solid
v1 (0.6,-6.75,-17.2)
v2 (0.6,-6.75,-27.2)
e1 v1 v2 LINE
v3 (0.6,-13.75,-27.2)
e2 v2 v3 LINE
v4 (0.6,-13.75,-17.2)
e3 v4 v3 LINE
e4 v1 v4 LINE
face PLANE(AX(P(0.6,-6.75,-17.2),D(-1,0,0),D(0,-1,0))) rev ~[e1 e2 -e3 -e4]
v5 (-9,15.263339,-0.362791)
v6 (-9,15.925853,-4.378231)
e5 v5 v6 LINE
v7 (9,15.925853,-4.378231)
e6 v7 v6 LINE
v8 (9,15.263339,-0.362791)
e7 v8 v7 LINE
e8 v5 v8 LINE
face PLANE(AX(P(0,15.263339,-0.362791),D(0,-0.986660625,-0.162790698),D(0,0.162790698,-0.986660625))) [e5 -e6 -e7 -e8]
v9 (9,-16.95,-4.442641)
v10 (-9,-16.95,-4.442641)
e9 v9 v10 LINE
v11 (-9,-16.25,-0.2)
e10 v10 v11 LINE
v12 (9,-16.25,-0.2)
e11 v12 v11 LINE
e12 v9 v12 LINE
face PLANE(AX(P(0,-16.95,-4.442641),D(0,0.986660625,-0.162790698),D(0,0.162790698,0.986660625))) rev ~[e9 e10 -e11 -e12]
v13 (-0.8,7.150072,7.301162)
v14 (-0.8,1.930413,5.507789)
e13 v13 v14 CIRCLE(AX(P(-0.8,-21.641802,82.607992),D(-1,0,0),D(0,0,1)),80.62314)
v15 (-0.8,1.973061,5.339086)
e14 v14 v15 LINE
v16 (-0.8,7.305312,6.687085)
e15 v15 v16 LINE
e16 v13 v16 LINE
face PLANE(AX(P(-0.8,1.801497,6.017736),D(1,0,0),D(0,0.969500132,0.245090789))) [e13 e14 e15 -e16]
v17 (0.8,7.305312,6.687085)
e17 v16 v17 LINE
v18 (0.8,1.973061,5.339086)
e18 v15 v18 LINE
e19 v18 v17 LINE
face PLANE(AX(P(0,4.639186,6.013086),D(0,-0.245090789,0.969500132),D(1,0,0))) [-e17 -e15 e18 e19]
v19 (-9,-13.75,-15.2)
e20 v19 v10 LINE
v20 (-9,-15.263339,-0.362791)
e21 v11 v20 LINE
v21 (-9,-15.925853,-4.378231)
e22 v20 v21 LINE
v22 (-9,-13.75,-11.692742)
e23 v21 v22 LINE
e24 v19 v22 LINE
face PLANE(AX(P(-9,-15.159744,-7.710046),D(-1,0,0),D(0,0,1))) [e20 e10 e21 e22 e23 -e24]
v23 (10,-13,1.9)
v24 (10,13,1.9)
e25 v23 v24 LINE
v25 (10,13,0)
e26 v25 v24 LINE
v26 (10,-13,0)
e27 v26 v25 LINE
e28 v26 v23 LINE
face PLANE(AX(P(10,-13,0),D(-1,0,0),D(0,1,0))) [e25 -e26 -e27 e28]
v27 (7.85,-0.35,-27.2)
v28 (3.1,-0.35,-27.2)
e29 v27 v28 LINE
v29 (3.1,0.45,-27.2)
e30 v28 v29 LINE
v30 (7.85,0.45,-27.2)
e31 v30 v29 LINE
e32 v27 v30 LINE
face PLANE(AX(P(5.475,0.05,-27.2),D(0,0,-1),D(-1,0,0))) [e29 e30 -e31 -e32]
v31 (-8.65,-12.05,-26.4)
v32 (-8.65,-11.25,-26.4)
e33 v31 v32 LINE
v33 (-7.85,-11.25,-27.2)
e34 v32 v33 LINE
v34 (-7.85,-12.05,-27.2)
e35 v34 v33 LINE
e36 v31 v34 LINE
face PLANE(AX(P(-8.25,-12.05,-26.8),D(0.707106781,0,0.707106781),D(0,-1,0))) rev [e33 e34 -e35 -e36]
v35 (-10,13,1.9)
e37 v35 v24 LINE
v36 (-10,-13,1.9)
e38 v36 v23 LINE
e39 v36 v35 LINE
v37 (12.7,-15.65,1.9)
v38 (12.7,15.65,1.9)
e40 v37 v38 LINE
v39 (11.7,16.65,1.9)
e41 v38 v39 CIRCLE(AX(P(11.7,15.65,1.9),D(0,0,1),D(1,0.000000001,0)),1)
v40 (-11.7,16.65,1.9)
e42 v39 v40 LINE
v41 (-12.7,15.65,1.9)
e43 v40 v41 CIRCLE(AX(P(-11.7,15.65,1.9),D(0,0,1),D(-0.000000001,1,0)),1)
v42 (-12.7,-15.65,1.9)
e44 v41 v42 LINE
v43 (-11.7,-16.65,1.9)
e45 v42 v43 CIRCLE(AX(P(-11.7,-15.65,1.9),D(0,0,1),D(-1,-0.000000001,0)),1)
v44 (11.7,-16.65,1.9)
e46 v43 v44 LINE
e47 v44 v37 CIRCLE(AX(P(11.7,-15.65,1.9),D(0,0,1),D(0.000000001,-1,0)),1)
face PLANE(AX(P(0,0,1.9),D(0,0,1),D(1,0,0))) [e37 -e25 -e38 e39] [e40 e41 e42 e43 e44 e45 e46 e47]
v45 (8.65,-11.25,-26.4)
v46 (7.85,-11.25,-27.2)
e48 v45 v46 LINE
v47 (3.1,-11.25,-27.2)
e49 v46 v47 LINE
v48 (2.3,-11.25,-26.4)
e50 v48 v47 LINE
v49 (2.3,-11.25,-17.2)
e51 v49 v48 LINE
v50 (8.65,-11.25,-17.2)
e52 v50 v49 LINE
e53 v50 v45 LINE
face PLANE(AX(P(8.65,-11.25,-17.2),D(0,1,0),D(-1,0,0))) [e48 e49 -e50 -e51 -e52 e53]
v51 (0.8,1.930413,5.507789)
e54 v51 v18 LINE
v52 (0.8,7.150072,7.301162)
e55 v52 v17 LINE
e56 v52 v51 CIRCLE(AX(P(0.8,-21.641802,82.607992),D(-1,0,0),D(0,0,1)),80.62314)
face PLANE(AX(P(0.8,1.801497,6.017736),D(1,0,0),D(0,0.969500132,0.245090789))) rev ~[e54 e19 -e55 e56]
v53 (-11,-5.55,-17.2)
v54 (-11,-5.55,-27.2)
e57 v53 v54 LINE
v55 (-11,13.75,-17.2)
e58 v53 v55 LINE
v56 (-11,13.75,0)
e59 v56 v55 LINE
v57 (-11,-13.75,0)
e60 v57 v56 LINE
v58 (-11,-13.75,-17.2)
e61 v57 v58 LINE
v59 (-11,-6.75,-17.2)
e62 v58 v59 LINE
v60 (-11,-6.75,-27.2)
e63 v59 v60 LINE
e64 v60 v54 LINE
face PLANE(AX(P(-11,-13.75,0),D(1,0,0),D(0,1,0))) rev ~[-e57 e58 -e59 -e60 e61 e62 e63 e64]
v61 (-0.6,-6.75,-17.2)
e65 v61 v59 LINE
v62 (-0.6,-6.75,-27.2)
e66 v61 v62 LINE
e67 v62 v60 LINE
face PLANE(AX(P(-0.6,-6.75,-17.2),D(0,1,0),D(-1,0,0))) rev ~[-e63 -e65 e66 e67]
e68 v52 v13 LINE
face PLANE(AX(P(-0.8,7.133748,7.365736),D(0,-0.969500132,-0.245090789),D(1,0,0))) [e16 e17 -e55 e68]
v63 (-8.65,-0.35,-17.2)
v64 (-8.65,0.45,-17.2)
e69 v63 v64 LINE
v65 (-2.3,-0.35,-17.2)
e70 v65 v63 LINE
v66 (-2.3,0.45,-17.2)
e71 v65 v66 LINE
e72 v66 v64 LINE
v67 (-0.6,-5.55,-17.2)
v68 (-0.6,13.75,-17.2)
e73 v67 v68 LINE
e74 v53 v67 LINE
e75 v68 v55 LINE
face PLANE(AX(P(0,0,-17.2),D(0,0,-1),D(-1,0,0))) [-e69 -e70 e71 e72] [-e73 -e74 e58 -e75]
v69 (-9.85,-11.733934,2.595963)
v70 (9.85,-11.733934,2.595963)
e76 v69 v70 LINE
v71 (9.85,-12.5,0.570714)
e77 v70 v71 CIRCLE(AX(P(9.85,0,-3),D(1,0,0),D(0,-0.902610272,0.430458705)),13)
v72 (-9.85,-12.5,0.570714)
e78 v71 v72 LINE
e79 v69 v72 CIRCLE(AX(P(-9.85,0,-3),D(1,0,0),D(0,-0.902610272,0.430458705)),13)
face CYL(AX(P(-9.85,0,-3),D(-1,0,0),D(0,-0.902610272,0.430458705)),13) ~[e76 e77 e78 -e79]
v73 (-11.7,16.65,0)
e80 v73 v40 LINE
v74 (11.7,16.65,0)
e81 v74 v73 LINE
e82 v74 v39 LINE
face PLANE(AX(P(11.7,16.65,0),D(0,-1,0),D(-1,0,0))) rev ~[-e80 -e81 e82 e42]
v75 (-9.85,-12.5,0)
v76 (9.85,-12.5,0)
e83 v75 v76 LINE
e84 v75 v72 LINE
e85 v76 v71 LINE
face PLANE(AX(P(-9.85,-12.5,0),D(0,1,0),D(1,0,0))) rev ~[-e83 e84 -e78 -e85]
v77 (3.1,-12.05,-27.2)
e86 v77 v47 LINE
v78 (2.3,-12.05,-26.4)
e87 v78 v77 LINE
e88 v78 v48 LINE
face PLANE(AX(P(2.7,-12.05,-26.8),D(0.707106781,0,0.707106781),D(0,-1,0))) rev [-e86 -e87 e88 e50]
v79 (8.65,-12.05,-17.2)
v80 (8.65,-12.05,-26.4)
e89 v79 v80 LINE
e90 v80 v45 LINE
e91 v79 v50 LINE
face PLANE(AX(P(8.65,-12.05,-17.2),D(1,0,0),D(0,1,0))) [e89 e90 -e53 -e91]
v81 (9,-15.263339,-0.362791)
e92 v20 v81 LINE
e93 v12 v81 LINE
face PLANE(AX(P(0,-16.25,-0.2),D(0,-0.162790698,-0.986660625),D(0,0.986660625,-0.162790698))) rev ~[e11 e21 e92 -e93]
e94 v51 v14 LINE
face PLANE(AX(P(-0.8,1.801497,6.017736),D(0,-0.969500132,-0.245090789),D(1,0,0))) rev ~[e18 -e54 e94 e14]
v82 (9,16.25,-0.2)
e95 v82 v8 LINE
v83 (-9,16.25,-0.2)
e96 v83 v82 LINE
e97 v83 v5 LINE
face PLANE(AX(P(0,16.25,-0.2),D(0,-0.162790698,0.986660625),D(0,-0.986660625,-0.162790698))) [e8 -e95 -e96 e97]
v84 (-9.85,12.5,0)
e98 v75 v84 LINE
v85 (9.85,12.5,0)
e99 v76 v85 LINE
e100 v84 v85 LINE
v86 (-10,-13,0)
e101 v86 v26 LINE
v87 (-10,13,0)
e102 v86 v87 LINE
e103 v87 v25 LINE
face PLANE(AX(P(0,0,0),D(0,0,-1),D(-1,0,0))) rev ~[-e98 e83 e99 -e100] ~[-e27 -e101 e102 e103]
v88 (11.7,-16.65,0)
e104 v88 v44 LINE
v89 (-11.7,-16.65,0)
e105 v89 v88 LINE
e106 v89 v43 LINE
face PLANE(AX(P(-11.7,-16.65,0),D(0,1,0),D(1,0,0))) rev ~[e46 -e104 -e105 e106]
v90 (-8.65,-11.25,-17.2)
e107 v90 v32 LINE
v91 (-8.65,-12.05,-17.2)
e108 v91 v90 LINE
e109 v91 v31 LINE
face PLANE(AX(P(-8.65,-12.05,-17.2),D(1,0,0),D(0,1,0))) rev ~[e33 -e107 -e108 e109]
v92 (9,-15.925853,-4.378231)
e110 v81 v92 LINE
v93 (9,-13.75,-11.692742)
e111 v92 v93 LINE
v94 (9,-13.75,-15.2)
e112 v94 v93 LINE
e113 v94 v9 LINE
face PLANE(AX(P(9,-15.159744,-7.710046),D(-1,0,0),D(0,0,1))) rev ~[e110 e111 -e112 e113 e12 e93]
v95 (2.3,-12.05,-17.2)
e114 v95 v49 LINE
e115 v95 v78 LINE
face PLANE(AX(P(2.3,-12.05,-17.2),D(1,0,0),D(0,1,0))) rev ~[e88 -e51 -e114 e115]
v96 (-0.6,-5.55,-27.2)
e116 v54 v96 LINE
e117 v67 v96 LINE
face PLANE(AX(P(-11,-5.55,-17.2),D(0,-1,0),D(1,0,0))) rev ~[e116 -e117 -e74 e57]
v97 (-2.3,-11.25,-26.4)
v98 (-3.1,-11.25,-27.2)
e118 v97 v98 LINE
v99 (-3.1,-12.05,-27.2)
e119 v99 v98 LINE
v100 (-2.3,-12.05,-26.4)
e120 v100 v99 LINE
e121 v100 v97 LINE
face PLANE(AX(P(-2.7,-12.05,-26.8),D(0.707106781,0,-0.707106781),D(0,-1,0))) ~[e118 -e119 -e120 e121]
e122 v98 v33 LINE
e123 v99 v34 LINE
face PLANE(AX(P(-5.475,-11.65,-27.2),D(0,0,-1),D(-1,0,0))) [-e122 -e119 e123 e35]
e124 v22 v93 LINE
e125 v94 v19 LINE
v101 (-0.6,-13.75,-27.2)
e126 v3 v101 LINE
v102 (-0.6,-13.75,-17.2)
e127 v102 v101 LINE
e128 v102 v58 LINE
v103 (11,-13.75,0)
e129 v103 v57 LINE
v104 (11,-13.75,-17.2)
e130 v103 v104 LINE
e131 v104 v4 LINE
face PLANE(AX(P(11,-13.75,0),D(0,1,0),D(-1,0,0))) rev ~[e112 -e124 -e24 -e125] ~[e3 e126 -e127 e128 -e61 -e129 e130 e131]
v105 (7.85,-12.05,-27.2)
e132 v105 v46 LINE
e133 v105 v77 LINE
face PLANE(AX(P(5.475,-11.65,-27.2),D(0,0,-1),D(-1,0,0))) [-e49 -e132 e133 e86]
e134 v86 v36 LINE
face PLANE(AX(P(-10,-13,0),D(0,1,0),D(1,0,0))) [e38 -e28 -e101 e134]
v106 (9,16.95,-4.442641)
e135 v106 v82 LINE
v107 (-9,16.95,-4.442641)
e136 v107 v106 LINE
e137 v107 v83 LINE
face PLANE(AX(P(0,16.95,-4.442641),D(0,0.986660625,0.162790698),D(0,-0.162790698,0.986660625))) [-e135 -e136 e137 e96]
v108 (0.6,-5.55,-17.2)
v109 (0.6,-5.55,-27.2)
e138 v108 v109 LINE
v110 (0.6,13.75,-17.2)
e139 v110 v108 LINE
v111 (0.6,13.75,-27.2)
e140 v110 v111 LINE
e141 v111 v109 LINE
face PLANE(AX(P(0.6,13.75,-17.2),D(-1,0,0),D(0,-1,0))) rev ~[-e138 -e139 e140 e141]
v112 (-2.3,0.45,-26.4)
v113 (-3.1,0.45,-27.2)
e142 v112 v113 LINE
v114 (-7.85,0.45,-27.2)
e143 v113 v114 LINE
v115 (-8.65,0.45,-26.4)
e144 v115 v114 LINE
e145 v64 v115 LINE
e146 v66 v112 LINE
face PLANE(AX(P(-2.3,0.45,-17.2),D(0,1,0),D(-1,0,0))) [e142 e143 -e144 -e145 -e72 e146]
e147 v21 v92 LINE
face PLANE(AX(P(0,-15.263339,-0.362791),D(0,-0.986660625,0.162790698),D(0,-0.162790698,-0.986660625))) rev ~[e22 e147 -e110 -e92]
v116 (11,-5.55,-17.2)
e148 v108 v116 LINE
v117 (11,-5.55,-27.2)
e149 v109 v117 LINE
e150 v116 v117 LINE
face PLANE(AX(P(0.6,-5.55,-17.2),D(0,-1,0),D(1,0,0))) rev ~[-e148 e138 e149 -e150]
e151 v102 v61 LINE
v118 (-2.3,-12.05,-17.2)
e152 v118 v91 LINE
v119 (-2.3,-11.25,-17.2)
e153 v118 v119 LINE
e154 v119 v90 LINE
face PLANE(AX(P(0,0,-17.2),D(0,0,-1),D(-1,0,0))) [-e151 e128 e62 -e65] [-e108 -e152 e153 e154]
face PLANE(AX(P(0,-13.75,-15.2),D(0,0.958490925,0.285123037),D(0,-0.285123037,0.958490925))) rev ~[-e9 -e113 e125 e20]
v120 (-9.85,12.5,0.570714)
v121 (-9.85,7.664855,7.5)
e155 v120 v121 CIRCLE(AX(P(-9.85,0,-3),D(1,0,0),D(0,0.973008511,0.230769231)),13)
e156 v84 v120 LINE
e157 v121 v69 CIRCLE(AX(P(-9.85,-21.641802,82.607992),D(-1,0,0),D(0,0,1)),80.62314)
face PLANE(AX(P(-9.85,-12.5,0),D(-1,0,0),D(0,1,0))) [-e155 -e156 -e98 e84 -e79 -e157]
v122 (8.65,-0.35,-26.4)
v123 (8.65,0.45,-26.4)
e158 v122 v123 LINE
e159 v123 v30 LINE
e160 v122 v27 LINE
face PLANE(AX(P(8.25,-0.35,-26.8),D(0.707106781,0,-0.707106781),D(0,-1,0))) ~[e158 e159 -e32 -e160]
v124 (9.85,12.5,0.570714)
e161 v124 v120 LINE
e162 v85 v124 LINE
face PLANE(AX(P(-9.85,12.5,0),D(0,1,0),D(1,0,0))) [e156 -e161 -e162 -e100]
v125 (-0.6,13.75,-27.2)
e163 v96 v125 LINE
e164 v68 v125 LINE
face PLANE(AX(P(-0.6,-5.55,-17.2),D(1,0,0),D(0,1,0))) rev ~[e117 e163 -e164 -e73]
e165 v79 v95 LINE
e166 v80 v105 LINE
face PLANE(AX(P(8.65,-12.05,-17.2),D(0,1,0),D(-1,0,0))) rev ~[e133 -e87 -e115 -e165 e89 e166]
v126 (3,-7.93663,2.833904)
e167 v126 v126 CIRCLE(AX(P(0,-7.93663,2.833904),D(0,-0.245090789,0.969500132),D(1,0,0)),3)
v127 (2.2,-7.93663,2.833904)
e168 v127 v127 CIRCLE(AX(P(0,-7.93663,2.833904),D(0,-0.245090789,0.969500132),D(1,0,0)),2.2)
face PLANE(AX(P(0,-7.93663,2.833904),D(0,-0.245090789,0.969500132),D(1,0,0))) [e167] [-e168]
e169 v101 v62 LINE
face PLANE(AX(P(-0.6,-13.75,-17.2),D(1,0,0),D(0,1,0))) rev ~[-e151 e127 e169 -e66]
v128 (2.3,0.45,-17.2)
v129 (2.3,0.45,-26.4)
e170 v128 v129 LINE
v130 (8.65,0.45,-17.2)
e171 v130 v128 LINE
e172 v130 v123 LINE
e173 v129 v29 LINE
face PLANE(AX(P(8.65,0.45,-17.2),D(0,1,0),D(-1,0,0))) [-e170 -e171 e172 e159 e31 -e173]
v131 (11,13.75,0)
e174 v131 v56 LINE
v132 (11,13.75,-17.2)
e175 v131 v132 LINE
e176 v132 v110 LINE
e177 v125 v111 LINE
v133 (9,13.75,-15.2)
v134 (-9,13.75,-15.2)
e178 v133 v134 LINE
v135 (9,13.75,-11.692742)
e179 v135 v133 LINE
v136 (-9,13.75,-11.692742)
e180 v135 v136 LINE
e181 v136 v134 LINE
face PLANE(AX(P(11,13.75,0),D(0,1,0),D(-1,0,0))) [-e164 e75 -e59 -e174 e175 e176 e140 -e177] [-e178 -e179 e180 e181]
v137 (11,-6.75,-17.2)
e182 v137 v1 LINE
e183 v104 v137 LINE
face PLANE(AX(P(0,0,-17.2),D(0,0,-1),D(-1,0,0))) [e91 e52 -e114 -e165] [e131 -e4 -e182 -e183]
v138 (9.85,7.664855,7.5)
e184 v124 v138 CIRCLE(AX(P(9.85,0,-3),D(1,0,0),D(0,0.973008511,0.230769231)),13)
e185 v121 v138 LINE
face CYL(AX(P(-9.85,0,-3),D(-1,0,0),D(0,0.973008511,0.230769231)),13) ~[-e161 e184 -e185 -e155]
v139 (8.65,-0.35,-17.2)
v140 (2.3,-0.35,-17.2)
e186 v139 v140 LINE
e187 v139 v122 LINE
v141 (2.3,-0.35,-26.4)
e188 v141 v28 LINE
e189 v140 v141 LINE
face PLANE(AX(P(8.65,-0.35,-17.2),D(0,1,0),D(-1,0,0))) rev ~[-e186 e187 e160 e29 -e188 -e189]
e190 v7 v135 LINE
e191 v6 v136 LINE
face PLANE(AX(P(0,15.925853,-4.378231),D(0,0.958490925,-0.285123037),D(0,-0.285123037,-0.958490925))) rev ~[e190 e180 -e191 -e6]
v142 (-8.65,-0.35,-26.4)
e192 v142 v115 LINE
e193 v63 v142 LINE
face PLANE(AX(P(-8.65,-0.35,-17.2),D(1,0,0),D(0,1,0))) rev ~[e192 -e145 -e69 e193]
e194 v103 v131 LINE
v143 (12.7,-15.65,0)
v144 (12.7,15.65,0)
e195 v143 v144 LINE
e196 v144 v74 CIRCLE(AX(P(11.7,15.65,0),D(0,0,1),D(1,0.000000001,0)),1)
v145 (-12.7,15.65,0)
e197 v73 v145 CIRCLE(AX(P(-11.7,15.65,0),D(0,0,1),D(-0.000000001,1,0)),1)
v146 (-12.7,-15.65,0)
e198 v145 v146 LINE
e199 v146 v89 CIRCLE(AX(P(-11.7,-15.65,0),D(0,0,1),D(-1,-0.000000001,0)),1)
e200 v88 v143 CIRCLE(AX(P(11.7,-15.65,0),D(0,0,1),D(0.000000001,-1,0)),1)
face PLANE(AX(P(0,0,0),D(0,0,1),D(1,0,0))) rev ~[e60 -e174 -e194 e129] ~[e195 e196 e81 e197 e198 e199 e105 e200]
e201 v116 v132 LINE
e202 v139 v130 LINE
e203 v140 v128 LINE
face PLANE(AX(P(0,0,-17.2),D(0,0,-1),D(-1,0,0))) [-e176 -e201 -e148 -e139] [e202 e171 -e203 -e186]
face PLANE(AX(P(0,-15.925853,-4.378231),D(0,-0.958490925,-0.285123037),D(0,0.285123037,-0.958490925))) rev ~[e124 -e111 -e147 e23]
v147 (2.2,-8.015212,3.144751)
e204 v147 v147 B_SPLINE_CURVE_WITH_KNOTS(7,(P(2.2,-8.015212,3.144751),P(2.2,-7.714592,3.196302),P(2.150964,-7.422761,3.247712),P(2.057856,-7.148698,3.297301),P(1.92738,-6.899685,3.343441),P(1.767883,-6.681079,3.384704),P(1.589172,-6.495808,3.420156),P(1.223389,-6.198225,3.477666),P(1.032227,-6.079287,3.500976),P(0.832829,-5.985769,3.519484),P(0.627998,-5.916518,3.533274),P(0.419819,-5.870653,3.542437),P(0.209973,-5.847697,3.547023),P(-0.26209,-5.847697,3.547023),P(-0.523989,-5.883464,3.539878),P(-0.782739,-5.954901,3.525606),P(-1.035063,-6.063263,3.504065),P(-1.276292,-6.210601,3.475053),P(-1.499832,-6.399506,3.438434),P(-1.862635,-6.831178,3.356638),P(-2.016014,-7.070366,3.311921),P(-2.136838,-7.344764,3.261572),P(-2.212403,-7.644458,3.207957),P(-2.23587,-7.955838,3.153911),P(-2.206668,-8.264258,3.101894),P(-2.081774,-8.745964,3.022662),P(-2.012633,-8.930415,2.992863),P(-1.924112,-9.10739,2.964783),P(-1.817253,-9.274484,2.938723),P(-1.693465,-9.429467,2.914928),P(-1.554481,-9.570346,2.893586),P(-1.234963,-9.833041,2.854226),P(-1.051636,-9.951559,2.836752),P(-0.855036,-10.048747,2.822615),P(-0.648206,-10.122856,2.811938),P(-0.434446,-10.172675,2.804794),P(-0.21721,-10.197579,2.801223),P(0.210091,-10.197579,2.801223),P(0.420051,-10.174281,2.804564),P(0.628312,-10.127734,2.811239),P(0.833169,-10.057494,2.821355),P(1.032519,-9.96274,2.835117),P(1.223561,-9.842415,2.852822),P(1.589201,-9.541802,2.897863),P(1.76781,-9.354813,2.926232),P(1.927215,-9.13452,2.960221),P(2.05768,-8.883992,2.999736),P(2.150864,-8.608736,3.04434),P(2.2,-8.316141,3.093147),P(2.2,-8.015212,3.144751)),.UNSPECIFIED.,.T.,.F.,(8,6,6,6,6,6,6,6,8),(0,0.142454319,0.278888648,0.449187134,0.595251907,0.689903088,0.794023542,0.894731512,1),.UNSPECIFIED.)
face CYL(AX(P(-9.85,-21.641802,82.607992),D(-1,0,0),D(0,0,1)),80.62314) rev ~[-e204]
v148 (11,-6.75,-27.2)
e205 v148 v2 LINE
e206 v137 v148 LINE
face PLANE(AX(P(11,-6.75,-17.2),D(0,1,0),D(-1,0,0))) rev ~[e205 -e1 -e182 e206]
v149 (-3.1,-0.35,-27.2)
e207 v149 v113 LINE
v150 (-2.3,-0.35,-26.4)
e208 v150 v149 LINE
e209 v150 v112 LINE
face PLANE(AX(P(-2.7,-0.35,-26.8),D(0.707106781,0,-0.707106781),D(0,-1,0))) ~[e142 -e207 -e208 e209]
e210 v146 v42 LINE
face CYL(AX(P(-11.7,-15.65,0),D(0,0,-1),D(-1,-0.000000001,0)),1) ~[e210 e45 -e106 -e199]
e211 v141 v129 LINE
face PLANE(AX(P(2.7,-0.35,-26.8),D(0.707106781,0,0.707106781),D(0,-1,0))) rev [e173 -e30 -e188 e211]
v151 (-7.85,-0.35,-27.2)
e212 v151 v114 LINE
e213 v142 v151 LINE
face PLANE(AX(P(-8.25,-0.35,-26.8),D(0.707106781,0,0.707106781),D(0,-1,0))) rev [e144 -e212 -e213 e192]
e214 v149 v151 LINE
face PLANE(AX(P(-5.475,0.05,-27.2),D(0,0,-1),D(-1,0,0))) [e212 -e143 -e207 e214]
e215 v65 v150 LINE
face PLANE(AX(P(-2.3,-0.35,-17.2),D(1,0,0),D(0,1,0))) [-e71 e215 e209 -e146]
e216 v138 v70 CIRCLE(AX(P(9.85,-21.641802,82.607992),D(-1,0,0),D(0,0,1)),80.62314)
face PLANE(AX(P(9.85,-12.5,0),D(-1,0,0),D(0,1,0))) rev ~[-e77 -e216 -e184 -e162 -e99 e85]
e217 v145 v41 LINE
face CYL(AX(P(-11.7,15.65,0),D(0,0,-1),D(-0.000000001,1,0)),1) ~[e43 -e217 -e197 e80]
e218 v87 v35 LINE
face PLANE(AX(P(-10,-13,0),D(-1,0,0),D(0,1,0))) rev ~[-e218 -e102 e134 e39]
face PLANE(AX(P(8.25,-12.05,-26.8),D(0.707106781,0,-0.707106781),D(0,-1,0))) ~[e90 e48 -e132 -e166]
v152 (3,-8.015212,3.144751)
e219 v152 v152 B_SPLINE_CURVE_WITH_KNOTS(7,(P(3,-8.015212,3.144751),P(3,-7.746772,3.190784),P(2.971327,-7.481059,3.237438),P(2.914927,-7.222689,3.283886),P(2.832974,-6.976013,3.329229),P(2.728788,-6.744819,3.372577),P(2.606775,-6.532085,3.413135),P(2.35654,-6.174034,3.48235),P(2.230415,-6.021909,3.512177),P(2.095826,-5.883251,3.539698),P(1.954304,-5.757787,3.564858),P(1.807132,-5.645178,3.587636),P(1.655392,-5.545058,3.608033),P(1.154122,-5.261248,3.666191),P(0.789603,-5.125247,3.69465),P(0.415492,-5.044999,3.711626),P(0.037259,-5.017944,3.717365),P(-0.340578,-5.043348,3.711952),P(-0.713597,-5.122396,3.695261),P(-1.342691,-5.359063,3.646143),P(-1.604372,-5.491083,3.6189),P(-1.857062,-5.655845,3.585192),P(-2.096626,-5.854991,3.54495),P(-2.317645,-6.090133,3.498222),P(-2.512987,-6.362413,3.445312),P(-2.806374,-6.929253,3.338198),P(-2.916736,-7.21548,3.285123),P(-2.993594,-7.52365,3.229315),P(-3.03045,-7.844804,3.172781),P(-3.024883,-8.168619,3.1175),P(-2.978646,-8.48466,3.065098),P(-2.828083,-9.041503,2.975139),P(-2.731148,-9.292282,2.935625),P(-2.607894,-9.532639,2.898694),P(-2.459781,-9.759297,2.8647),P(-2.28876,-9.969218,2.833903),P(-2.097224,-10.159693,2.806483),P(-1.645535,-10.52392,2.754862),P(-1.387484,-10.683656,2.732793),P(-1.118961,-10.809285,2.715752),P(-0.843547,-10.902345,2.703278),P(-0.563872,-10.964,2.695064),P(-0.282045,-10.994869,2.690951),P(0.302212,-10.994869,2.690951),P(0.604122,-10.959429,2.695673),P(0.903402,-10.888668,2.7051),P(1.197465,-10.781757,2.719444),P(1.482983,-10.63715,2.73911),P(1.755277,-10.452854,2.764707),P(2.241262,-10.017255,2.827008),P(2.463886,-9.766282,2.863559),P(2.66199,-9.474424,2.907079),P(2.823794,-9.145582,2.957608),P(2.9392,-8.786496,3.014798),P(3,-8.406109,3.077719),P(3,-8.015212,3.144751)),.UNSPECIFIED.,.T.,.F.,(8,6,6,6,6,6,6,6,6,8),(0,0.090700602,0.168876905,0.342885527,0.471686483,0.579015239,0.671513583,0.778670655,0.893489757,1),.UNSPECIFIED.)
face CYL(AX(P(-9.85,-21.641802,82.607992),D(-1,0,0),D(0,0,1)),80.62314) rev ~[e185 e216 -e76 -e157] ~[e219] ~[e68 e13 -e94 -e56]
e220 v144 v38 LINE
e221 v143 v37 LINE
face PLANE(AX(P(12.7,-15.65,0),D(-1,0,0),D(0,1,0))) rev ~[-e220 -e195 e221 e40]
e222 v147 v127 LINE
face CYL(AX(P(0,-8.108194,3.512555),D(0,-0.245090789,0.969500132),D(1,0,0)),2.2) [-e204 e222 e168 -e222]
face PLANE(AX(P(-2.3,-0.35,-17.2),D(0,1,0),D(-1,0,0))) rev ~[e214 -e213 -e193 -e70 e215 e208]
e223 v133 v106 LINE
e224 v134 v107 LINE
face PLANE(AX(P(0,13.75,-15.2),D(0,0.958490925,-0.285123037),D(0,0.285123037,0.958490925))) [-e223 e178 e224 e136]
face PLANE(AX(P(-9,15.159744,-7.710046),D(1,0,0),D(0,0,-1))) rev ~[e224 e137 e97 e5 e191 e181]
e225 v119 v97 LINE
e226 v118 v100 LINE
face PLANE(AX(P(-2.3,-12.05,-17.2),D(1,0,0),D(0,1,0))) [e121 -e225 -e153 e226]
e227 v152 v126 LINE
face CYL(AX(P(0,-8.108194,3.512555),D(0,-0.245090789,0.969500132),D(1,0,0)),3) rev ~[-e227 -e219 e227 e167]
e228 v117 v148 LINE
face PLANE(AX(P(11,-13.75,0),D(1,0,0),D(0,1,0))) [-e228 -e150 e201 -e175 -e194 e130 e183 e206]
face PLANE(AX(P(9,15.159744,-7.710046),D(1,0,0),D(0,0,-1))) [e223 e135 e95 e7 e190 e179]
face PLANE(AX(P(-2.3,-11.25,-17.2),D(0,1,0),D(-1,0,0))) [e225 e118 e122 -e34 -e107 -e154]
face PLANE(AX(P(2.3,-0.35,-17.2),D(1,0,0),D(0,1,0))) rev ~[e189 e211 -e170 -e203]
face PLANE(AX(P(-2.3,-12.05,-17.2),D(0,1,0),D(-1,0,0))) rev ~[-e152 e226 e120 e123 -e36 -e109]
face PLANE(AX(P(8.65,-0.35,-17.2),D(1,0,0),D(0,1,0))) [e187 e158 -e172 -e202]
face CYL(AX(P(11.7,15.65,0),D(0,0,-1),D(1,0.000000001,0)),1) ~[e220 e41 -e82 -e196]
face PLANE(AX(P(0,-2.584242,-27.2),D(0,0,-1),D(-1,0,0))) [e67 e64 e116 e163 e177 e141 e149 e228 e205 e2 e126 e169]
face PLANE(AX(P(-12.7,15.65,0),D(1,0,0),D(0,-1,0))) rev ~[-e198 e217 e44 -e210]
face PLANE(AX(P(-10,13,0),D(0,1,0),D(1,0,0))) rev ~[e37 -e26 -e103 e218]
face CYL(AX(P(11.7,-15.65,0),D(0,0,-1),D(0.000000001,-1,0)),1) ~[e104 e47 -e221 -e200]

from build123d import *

# Parameters (mm, degrees)
SKETCH1_W           = 20
SKETCH1_H           = 26
EXTRUDE1_DEPTH      = 1.9
SKETCH2_W           = 22
SKETCH2_H           = 27.5
EXTRUDE2_DEPTH      = 17.2
SKETCH3_W           = 19.7
SKETCH3_H           = 25
EXTRUDE3_DEPTH      = 7.6
CUT_EXTRUDE1_DEPTH  = 19.7
SKETCH5_R           = 3
SKETCH5_R_2         = 2.2
SKETCH5_W           = 1.6
SKETCH5_H           = 5.5
CUT_EXTRUDE2_DEPTH  = 0.7
SKETCH6_R           = 80.623139619
CUT_EXTRUDE3_DEPTH  = 23.55
SKETCH7_W           = 6.35
SKETCH7_H           = 0.8
EXTRUDE4_DEPTH      = 10
CHAMFER1_SIZE       = 0.8
EXTRUDE5_DEPTH      = 9
EXTRUDE5_DEPTH_BACK = 9


with BuildPart() as part:
    # Sketch1 → Extrude1 (new body)
    with BuildSketch(Plane.XY):
        with BuildLine():
            Line((-11.7, -16.65), (11.7, -16.65))
            ThreePointArc((11.7, -16.65), (12.407106781, -16.357106781), (12.7, -15.65))
            Line((12.7, -15.65), (12.7, 15.65))
            ThreePointArc((12.7, 15.65), (12.407106781, 16.357106781), (11.7, 16.65))
            Line((11.7, 16.65), (-11.7, 16.65))
            ThreePointArc((-11.7, 16.65), (-12.407106781, 16.357106781), (-12.7, 15.65))
            Line((-12.7, 15.65), (-12.7, -15.65))
            ThreePointArc((-12.7, -15.65), (-12.407106781, -16.357106781), (-11.7, -16.65))
        make_face()
        Rectangle(SKETCH1_W, SKETCH1_H, mode=Mode.SUBTRACT)
    extrude(amount=EXTRUDE1_DEPTH)

    # Sketch2 → Extrude2 (add)
    with BuildSketch(Plane(origin=(0, 0, 0), x_dir=(-1, 0, 0), z_dir=(0, 0, -1))):
        Rectangle(SKETCH2_W, SKETCH2_H)
    extrude(amount=EXTRUDE2_DEPTH)

    # Sketch3 → Extrude3 (add)
    with BuildSketch(Plane.XY):
        Rectangle(SKETCH3_W, SKETCH3_H)
    extrude(amount=EXTRUDE3_DEPTH)

    # Sketch4 → Cut-Extrude1 (cut)
    with BuildSketch(Plane.ZY.offset(9.85)):
        with BuildLine():
            Line((0, -12.649110641), (10.2, -12.649110641))
            Line((10.2, -12.649110641), (10.2, 12.649110641))
            Line((10.2, 12.649110641), (0, 12.649110641))
            ThreePointArc((0, 12.649110641), (4.195359715, 10.827132519), (7.5, 7.664854858))
            Line((7.5, 7.664854858), (2.595963169, -11.733933535))
            ThreePointArc((2.595963169, -11.733933535), (1.322271739, -12.260422791), (0, -12.649110641))
        make_face()
    extrude(amount=-CUT_EXTRUDE1_DEPTH, mode=Mode.SUBTRACT)

    # Sketch5 → Cut-Extrude2 (cut)
    with BuildSketch(Plane(origin=(0, -1.321692682, 5.228190069), x_dir=(1, 0, 0), z_dir=(0, -0.245090789, 0.969500132))):
        with Locations((0, -7)):
            Circle(SKETCH5_R)
        with Locations((0, -7)):
            Circle(SKETCH5_R_2, mode=Mode.SUBTRACT)
        with Locations((0, 5.971443692)):
            Rectangle(SKETCH5_W, SKETCH5_H)
    extrude(amount=-CUT_EXTRUDE2_DEPTH, mode=Mode.SUBTRACT)

    # Sketch6 → Cut-Extrude3 (cut, through all)
    with BuildSketch(Plane.ZY.offset(9.85)):
        with Locations((82.607992112, -21.641802457)):
            Circle(SKETCH6_R)
    extrude(amount=-CUT_EXTRUDE3_DEPTH, mode=Mode.SUBTRACT)

    # Sketch7 → Extrude4 (add)
    with BuildSketch(Plane(origin=(0, 0, -17.2), x_dir=(-1, 0, 0), z_dir=(0, 0, -1))):
        Polygon((-0.6, -13.75), (0.6, -13.75), (0.6, -6.75), (11, -6.75), (11, -5.55), (0.6, -5.55), (0.6, 13.75), (-0.6, 13.75), (-0.6, -5.55), (-11, -5.55), (-11, -6.75), (-0.6, -6.75), align=None)
        with Locations((-5.475, 0.05)):
            Rectangle(SKETCH7_W, SKETCH7_H)
        with Locations((5.475, 0.05)):
            Rectangle(SKETCH7_W, SKETCH7_H)
        with Locations((-5.475, -11.65)):
            Rectangle(SKETCH7_W, SKETCH7_H)
        with Locations((5.475, -11.65)):
            Rectangle(SKETCH7_W, SKETCH7_H)
    extrude(amount=EXTRUDE4_DEPTH)

    # Chamfer1
    chamfer1_edges = [part.edges().sort_by_distance(p)[0] for p in [
        (8.65, 0.05, -27.2),
        (2.3, 0.05, -27.2),
        (-2.3, 0.05, -27.2),
        (-8.65, 0.05, -27.2),
        (8.65, -11.65, -27.2),
        (2.3, -11.65, -27.2),
        (-2.3, -11.65, -27.2),
        (-8.65, -11.65, -27.2),
    ]]
    chamfer(chamfer1_edges, length=CHAMFER1_SIZE)

    # Sketch8 → Extrude5 (add, two sides)
    with BuildSketch(Plane(origin=(0, 0, 0), x_dir=(0, 0, -1), z_dir=(1, 0, 0))) as extrude5_sk:
        Polygon((15.2, 13.75), (4.442640687, 16.95), (0.2, 16.25), (0.362790698, 15.263339375), (4.378231172, 15.925853253), (14.914876963, 12.791509075), align=None)
        Polygon((15.2, -13.75), (4.442640687, -16.95), (0.2, -16.25), (0.362790698, -15.263339375), (4.378231172, -15.925853253), (14.914876963, -12.791509075), align=None)
    extrude(amount=EXTRUDE5_DEPTH)
    extrude(extrude5_sk.sketch, amount=-EXTRUDE5_DEPTH_BACK)


solid = part.part
